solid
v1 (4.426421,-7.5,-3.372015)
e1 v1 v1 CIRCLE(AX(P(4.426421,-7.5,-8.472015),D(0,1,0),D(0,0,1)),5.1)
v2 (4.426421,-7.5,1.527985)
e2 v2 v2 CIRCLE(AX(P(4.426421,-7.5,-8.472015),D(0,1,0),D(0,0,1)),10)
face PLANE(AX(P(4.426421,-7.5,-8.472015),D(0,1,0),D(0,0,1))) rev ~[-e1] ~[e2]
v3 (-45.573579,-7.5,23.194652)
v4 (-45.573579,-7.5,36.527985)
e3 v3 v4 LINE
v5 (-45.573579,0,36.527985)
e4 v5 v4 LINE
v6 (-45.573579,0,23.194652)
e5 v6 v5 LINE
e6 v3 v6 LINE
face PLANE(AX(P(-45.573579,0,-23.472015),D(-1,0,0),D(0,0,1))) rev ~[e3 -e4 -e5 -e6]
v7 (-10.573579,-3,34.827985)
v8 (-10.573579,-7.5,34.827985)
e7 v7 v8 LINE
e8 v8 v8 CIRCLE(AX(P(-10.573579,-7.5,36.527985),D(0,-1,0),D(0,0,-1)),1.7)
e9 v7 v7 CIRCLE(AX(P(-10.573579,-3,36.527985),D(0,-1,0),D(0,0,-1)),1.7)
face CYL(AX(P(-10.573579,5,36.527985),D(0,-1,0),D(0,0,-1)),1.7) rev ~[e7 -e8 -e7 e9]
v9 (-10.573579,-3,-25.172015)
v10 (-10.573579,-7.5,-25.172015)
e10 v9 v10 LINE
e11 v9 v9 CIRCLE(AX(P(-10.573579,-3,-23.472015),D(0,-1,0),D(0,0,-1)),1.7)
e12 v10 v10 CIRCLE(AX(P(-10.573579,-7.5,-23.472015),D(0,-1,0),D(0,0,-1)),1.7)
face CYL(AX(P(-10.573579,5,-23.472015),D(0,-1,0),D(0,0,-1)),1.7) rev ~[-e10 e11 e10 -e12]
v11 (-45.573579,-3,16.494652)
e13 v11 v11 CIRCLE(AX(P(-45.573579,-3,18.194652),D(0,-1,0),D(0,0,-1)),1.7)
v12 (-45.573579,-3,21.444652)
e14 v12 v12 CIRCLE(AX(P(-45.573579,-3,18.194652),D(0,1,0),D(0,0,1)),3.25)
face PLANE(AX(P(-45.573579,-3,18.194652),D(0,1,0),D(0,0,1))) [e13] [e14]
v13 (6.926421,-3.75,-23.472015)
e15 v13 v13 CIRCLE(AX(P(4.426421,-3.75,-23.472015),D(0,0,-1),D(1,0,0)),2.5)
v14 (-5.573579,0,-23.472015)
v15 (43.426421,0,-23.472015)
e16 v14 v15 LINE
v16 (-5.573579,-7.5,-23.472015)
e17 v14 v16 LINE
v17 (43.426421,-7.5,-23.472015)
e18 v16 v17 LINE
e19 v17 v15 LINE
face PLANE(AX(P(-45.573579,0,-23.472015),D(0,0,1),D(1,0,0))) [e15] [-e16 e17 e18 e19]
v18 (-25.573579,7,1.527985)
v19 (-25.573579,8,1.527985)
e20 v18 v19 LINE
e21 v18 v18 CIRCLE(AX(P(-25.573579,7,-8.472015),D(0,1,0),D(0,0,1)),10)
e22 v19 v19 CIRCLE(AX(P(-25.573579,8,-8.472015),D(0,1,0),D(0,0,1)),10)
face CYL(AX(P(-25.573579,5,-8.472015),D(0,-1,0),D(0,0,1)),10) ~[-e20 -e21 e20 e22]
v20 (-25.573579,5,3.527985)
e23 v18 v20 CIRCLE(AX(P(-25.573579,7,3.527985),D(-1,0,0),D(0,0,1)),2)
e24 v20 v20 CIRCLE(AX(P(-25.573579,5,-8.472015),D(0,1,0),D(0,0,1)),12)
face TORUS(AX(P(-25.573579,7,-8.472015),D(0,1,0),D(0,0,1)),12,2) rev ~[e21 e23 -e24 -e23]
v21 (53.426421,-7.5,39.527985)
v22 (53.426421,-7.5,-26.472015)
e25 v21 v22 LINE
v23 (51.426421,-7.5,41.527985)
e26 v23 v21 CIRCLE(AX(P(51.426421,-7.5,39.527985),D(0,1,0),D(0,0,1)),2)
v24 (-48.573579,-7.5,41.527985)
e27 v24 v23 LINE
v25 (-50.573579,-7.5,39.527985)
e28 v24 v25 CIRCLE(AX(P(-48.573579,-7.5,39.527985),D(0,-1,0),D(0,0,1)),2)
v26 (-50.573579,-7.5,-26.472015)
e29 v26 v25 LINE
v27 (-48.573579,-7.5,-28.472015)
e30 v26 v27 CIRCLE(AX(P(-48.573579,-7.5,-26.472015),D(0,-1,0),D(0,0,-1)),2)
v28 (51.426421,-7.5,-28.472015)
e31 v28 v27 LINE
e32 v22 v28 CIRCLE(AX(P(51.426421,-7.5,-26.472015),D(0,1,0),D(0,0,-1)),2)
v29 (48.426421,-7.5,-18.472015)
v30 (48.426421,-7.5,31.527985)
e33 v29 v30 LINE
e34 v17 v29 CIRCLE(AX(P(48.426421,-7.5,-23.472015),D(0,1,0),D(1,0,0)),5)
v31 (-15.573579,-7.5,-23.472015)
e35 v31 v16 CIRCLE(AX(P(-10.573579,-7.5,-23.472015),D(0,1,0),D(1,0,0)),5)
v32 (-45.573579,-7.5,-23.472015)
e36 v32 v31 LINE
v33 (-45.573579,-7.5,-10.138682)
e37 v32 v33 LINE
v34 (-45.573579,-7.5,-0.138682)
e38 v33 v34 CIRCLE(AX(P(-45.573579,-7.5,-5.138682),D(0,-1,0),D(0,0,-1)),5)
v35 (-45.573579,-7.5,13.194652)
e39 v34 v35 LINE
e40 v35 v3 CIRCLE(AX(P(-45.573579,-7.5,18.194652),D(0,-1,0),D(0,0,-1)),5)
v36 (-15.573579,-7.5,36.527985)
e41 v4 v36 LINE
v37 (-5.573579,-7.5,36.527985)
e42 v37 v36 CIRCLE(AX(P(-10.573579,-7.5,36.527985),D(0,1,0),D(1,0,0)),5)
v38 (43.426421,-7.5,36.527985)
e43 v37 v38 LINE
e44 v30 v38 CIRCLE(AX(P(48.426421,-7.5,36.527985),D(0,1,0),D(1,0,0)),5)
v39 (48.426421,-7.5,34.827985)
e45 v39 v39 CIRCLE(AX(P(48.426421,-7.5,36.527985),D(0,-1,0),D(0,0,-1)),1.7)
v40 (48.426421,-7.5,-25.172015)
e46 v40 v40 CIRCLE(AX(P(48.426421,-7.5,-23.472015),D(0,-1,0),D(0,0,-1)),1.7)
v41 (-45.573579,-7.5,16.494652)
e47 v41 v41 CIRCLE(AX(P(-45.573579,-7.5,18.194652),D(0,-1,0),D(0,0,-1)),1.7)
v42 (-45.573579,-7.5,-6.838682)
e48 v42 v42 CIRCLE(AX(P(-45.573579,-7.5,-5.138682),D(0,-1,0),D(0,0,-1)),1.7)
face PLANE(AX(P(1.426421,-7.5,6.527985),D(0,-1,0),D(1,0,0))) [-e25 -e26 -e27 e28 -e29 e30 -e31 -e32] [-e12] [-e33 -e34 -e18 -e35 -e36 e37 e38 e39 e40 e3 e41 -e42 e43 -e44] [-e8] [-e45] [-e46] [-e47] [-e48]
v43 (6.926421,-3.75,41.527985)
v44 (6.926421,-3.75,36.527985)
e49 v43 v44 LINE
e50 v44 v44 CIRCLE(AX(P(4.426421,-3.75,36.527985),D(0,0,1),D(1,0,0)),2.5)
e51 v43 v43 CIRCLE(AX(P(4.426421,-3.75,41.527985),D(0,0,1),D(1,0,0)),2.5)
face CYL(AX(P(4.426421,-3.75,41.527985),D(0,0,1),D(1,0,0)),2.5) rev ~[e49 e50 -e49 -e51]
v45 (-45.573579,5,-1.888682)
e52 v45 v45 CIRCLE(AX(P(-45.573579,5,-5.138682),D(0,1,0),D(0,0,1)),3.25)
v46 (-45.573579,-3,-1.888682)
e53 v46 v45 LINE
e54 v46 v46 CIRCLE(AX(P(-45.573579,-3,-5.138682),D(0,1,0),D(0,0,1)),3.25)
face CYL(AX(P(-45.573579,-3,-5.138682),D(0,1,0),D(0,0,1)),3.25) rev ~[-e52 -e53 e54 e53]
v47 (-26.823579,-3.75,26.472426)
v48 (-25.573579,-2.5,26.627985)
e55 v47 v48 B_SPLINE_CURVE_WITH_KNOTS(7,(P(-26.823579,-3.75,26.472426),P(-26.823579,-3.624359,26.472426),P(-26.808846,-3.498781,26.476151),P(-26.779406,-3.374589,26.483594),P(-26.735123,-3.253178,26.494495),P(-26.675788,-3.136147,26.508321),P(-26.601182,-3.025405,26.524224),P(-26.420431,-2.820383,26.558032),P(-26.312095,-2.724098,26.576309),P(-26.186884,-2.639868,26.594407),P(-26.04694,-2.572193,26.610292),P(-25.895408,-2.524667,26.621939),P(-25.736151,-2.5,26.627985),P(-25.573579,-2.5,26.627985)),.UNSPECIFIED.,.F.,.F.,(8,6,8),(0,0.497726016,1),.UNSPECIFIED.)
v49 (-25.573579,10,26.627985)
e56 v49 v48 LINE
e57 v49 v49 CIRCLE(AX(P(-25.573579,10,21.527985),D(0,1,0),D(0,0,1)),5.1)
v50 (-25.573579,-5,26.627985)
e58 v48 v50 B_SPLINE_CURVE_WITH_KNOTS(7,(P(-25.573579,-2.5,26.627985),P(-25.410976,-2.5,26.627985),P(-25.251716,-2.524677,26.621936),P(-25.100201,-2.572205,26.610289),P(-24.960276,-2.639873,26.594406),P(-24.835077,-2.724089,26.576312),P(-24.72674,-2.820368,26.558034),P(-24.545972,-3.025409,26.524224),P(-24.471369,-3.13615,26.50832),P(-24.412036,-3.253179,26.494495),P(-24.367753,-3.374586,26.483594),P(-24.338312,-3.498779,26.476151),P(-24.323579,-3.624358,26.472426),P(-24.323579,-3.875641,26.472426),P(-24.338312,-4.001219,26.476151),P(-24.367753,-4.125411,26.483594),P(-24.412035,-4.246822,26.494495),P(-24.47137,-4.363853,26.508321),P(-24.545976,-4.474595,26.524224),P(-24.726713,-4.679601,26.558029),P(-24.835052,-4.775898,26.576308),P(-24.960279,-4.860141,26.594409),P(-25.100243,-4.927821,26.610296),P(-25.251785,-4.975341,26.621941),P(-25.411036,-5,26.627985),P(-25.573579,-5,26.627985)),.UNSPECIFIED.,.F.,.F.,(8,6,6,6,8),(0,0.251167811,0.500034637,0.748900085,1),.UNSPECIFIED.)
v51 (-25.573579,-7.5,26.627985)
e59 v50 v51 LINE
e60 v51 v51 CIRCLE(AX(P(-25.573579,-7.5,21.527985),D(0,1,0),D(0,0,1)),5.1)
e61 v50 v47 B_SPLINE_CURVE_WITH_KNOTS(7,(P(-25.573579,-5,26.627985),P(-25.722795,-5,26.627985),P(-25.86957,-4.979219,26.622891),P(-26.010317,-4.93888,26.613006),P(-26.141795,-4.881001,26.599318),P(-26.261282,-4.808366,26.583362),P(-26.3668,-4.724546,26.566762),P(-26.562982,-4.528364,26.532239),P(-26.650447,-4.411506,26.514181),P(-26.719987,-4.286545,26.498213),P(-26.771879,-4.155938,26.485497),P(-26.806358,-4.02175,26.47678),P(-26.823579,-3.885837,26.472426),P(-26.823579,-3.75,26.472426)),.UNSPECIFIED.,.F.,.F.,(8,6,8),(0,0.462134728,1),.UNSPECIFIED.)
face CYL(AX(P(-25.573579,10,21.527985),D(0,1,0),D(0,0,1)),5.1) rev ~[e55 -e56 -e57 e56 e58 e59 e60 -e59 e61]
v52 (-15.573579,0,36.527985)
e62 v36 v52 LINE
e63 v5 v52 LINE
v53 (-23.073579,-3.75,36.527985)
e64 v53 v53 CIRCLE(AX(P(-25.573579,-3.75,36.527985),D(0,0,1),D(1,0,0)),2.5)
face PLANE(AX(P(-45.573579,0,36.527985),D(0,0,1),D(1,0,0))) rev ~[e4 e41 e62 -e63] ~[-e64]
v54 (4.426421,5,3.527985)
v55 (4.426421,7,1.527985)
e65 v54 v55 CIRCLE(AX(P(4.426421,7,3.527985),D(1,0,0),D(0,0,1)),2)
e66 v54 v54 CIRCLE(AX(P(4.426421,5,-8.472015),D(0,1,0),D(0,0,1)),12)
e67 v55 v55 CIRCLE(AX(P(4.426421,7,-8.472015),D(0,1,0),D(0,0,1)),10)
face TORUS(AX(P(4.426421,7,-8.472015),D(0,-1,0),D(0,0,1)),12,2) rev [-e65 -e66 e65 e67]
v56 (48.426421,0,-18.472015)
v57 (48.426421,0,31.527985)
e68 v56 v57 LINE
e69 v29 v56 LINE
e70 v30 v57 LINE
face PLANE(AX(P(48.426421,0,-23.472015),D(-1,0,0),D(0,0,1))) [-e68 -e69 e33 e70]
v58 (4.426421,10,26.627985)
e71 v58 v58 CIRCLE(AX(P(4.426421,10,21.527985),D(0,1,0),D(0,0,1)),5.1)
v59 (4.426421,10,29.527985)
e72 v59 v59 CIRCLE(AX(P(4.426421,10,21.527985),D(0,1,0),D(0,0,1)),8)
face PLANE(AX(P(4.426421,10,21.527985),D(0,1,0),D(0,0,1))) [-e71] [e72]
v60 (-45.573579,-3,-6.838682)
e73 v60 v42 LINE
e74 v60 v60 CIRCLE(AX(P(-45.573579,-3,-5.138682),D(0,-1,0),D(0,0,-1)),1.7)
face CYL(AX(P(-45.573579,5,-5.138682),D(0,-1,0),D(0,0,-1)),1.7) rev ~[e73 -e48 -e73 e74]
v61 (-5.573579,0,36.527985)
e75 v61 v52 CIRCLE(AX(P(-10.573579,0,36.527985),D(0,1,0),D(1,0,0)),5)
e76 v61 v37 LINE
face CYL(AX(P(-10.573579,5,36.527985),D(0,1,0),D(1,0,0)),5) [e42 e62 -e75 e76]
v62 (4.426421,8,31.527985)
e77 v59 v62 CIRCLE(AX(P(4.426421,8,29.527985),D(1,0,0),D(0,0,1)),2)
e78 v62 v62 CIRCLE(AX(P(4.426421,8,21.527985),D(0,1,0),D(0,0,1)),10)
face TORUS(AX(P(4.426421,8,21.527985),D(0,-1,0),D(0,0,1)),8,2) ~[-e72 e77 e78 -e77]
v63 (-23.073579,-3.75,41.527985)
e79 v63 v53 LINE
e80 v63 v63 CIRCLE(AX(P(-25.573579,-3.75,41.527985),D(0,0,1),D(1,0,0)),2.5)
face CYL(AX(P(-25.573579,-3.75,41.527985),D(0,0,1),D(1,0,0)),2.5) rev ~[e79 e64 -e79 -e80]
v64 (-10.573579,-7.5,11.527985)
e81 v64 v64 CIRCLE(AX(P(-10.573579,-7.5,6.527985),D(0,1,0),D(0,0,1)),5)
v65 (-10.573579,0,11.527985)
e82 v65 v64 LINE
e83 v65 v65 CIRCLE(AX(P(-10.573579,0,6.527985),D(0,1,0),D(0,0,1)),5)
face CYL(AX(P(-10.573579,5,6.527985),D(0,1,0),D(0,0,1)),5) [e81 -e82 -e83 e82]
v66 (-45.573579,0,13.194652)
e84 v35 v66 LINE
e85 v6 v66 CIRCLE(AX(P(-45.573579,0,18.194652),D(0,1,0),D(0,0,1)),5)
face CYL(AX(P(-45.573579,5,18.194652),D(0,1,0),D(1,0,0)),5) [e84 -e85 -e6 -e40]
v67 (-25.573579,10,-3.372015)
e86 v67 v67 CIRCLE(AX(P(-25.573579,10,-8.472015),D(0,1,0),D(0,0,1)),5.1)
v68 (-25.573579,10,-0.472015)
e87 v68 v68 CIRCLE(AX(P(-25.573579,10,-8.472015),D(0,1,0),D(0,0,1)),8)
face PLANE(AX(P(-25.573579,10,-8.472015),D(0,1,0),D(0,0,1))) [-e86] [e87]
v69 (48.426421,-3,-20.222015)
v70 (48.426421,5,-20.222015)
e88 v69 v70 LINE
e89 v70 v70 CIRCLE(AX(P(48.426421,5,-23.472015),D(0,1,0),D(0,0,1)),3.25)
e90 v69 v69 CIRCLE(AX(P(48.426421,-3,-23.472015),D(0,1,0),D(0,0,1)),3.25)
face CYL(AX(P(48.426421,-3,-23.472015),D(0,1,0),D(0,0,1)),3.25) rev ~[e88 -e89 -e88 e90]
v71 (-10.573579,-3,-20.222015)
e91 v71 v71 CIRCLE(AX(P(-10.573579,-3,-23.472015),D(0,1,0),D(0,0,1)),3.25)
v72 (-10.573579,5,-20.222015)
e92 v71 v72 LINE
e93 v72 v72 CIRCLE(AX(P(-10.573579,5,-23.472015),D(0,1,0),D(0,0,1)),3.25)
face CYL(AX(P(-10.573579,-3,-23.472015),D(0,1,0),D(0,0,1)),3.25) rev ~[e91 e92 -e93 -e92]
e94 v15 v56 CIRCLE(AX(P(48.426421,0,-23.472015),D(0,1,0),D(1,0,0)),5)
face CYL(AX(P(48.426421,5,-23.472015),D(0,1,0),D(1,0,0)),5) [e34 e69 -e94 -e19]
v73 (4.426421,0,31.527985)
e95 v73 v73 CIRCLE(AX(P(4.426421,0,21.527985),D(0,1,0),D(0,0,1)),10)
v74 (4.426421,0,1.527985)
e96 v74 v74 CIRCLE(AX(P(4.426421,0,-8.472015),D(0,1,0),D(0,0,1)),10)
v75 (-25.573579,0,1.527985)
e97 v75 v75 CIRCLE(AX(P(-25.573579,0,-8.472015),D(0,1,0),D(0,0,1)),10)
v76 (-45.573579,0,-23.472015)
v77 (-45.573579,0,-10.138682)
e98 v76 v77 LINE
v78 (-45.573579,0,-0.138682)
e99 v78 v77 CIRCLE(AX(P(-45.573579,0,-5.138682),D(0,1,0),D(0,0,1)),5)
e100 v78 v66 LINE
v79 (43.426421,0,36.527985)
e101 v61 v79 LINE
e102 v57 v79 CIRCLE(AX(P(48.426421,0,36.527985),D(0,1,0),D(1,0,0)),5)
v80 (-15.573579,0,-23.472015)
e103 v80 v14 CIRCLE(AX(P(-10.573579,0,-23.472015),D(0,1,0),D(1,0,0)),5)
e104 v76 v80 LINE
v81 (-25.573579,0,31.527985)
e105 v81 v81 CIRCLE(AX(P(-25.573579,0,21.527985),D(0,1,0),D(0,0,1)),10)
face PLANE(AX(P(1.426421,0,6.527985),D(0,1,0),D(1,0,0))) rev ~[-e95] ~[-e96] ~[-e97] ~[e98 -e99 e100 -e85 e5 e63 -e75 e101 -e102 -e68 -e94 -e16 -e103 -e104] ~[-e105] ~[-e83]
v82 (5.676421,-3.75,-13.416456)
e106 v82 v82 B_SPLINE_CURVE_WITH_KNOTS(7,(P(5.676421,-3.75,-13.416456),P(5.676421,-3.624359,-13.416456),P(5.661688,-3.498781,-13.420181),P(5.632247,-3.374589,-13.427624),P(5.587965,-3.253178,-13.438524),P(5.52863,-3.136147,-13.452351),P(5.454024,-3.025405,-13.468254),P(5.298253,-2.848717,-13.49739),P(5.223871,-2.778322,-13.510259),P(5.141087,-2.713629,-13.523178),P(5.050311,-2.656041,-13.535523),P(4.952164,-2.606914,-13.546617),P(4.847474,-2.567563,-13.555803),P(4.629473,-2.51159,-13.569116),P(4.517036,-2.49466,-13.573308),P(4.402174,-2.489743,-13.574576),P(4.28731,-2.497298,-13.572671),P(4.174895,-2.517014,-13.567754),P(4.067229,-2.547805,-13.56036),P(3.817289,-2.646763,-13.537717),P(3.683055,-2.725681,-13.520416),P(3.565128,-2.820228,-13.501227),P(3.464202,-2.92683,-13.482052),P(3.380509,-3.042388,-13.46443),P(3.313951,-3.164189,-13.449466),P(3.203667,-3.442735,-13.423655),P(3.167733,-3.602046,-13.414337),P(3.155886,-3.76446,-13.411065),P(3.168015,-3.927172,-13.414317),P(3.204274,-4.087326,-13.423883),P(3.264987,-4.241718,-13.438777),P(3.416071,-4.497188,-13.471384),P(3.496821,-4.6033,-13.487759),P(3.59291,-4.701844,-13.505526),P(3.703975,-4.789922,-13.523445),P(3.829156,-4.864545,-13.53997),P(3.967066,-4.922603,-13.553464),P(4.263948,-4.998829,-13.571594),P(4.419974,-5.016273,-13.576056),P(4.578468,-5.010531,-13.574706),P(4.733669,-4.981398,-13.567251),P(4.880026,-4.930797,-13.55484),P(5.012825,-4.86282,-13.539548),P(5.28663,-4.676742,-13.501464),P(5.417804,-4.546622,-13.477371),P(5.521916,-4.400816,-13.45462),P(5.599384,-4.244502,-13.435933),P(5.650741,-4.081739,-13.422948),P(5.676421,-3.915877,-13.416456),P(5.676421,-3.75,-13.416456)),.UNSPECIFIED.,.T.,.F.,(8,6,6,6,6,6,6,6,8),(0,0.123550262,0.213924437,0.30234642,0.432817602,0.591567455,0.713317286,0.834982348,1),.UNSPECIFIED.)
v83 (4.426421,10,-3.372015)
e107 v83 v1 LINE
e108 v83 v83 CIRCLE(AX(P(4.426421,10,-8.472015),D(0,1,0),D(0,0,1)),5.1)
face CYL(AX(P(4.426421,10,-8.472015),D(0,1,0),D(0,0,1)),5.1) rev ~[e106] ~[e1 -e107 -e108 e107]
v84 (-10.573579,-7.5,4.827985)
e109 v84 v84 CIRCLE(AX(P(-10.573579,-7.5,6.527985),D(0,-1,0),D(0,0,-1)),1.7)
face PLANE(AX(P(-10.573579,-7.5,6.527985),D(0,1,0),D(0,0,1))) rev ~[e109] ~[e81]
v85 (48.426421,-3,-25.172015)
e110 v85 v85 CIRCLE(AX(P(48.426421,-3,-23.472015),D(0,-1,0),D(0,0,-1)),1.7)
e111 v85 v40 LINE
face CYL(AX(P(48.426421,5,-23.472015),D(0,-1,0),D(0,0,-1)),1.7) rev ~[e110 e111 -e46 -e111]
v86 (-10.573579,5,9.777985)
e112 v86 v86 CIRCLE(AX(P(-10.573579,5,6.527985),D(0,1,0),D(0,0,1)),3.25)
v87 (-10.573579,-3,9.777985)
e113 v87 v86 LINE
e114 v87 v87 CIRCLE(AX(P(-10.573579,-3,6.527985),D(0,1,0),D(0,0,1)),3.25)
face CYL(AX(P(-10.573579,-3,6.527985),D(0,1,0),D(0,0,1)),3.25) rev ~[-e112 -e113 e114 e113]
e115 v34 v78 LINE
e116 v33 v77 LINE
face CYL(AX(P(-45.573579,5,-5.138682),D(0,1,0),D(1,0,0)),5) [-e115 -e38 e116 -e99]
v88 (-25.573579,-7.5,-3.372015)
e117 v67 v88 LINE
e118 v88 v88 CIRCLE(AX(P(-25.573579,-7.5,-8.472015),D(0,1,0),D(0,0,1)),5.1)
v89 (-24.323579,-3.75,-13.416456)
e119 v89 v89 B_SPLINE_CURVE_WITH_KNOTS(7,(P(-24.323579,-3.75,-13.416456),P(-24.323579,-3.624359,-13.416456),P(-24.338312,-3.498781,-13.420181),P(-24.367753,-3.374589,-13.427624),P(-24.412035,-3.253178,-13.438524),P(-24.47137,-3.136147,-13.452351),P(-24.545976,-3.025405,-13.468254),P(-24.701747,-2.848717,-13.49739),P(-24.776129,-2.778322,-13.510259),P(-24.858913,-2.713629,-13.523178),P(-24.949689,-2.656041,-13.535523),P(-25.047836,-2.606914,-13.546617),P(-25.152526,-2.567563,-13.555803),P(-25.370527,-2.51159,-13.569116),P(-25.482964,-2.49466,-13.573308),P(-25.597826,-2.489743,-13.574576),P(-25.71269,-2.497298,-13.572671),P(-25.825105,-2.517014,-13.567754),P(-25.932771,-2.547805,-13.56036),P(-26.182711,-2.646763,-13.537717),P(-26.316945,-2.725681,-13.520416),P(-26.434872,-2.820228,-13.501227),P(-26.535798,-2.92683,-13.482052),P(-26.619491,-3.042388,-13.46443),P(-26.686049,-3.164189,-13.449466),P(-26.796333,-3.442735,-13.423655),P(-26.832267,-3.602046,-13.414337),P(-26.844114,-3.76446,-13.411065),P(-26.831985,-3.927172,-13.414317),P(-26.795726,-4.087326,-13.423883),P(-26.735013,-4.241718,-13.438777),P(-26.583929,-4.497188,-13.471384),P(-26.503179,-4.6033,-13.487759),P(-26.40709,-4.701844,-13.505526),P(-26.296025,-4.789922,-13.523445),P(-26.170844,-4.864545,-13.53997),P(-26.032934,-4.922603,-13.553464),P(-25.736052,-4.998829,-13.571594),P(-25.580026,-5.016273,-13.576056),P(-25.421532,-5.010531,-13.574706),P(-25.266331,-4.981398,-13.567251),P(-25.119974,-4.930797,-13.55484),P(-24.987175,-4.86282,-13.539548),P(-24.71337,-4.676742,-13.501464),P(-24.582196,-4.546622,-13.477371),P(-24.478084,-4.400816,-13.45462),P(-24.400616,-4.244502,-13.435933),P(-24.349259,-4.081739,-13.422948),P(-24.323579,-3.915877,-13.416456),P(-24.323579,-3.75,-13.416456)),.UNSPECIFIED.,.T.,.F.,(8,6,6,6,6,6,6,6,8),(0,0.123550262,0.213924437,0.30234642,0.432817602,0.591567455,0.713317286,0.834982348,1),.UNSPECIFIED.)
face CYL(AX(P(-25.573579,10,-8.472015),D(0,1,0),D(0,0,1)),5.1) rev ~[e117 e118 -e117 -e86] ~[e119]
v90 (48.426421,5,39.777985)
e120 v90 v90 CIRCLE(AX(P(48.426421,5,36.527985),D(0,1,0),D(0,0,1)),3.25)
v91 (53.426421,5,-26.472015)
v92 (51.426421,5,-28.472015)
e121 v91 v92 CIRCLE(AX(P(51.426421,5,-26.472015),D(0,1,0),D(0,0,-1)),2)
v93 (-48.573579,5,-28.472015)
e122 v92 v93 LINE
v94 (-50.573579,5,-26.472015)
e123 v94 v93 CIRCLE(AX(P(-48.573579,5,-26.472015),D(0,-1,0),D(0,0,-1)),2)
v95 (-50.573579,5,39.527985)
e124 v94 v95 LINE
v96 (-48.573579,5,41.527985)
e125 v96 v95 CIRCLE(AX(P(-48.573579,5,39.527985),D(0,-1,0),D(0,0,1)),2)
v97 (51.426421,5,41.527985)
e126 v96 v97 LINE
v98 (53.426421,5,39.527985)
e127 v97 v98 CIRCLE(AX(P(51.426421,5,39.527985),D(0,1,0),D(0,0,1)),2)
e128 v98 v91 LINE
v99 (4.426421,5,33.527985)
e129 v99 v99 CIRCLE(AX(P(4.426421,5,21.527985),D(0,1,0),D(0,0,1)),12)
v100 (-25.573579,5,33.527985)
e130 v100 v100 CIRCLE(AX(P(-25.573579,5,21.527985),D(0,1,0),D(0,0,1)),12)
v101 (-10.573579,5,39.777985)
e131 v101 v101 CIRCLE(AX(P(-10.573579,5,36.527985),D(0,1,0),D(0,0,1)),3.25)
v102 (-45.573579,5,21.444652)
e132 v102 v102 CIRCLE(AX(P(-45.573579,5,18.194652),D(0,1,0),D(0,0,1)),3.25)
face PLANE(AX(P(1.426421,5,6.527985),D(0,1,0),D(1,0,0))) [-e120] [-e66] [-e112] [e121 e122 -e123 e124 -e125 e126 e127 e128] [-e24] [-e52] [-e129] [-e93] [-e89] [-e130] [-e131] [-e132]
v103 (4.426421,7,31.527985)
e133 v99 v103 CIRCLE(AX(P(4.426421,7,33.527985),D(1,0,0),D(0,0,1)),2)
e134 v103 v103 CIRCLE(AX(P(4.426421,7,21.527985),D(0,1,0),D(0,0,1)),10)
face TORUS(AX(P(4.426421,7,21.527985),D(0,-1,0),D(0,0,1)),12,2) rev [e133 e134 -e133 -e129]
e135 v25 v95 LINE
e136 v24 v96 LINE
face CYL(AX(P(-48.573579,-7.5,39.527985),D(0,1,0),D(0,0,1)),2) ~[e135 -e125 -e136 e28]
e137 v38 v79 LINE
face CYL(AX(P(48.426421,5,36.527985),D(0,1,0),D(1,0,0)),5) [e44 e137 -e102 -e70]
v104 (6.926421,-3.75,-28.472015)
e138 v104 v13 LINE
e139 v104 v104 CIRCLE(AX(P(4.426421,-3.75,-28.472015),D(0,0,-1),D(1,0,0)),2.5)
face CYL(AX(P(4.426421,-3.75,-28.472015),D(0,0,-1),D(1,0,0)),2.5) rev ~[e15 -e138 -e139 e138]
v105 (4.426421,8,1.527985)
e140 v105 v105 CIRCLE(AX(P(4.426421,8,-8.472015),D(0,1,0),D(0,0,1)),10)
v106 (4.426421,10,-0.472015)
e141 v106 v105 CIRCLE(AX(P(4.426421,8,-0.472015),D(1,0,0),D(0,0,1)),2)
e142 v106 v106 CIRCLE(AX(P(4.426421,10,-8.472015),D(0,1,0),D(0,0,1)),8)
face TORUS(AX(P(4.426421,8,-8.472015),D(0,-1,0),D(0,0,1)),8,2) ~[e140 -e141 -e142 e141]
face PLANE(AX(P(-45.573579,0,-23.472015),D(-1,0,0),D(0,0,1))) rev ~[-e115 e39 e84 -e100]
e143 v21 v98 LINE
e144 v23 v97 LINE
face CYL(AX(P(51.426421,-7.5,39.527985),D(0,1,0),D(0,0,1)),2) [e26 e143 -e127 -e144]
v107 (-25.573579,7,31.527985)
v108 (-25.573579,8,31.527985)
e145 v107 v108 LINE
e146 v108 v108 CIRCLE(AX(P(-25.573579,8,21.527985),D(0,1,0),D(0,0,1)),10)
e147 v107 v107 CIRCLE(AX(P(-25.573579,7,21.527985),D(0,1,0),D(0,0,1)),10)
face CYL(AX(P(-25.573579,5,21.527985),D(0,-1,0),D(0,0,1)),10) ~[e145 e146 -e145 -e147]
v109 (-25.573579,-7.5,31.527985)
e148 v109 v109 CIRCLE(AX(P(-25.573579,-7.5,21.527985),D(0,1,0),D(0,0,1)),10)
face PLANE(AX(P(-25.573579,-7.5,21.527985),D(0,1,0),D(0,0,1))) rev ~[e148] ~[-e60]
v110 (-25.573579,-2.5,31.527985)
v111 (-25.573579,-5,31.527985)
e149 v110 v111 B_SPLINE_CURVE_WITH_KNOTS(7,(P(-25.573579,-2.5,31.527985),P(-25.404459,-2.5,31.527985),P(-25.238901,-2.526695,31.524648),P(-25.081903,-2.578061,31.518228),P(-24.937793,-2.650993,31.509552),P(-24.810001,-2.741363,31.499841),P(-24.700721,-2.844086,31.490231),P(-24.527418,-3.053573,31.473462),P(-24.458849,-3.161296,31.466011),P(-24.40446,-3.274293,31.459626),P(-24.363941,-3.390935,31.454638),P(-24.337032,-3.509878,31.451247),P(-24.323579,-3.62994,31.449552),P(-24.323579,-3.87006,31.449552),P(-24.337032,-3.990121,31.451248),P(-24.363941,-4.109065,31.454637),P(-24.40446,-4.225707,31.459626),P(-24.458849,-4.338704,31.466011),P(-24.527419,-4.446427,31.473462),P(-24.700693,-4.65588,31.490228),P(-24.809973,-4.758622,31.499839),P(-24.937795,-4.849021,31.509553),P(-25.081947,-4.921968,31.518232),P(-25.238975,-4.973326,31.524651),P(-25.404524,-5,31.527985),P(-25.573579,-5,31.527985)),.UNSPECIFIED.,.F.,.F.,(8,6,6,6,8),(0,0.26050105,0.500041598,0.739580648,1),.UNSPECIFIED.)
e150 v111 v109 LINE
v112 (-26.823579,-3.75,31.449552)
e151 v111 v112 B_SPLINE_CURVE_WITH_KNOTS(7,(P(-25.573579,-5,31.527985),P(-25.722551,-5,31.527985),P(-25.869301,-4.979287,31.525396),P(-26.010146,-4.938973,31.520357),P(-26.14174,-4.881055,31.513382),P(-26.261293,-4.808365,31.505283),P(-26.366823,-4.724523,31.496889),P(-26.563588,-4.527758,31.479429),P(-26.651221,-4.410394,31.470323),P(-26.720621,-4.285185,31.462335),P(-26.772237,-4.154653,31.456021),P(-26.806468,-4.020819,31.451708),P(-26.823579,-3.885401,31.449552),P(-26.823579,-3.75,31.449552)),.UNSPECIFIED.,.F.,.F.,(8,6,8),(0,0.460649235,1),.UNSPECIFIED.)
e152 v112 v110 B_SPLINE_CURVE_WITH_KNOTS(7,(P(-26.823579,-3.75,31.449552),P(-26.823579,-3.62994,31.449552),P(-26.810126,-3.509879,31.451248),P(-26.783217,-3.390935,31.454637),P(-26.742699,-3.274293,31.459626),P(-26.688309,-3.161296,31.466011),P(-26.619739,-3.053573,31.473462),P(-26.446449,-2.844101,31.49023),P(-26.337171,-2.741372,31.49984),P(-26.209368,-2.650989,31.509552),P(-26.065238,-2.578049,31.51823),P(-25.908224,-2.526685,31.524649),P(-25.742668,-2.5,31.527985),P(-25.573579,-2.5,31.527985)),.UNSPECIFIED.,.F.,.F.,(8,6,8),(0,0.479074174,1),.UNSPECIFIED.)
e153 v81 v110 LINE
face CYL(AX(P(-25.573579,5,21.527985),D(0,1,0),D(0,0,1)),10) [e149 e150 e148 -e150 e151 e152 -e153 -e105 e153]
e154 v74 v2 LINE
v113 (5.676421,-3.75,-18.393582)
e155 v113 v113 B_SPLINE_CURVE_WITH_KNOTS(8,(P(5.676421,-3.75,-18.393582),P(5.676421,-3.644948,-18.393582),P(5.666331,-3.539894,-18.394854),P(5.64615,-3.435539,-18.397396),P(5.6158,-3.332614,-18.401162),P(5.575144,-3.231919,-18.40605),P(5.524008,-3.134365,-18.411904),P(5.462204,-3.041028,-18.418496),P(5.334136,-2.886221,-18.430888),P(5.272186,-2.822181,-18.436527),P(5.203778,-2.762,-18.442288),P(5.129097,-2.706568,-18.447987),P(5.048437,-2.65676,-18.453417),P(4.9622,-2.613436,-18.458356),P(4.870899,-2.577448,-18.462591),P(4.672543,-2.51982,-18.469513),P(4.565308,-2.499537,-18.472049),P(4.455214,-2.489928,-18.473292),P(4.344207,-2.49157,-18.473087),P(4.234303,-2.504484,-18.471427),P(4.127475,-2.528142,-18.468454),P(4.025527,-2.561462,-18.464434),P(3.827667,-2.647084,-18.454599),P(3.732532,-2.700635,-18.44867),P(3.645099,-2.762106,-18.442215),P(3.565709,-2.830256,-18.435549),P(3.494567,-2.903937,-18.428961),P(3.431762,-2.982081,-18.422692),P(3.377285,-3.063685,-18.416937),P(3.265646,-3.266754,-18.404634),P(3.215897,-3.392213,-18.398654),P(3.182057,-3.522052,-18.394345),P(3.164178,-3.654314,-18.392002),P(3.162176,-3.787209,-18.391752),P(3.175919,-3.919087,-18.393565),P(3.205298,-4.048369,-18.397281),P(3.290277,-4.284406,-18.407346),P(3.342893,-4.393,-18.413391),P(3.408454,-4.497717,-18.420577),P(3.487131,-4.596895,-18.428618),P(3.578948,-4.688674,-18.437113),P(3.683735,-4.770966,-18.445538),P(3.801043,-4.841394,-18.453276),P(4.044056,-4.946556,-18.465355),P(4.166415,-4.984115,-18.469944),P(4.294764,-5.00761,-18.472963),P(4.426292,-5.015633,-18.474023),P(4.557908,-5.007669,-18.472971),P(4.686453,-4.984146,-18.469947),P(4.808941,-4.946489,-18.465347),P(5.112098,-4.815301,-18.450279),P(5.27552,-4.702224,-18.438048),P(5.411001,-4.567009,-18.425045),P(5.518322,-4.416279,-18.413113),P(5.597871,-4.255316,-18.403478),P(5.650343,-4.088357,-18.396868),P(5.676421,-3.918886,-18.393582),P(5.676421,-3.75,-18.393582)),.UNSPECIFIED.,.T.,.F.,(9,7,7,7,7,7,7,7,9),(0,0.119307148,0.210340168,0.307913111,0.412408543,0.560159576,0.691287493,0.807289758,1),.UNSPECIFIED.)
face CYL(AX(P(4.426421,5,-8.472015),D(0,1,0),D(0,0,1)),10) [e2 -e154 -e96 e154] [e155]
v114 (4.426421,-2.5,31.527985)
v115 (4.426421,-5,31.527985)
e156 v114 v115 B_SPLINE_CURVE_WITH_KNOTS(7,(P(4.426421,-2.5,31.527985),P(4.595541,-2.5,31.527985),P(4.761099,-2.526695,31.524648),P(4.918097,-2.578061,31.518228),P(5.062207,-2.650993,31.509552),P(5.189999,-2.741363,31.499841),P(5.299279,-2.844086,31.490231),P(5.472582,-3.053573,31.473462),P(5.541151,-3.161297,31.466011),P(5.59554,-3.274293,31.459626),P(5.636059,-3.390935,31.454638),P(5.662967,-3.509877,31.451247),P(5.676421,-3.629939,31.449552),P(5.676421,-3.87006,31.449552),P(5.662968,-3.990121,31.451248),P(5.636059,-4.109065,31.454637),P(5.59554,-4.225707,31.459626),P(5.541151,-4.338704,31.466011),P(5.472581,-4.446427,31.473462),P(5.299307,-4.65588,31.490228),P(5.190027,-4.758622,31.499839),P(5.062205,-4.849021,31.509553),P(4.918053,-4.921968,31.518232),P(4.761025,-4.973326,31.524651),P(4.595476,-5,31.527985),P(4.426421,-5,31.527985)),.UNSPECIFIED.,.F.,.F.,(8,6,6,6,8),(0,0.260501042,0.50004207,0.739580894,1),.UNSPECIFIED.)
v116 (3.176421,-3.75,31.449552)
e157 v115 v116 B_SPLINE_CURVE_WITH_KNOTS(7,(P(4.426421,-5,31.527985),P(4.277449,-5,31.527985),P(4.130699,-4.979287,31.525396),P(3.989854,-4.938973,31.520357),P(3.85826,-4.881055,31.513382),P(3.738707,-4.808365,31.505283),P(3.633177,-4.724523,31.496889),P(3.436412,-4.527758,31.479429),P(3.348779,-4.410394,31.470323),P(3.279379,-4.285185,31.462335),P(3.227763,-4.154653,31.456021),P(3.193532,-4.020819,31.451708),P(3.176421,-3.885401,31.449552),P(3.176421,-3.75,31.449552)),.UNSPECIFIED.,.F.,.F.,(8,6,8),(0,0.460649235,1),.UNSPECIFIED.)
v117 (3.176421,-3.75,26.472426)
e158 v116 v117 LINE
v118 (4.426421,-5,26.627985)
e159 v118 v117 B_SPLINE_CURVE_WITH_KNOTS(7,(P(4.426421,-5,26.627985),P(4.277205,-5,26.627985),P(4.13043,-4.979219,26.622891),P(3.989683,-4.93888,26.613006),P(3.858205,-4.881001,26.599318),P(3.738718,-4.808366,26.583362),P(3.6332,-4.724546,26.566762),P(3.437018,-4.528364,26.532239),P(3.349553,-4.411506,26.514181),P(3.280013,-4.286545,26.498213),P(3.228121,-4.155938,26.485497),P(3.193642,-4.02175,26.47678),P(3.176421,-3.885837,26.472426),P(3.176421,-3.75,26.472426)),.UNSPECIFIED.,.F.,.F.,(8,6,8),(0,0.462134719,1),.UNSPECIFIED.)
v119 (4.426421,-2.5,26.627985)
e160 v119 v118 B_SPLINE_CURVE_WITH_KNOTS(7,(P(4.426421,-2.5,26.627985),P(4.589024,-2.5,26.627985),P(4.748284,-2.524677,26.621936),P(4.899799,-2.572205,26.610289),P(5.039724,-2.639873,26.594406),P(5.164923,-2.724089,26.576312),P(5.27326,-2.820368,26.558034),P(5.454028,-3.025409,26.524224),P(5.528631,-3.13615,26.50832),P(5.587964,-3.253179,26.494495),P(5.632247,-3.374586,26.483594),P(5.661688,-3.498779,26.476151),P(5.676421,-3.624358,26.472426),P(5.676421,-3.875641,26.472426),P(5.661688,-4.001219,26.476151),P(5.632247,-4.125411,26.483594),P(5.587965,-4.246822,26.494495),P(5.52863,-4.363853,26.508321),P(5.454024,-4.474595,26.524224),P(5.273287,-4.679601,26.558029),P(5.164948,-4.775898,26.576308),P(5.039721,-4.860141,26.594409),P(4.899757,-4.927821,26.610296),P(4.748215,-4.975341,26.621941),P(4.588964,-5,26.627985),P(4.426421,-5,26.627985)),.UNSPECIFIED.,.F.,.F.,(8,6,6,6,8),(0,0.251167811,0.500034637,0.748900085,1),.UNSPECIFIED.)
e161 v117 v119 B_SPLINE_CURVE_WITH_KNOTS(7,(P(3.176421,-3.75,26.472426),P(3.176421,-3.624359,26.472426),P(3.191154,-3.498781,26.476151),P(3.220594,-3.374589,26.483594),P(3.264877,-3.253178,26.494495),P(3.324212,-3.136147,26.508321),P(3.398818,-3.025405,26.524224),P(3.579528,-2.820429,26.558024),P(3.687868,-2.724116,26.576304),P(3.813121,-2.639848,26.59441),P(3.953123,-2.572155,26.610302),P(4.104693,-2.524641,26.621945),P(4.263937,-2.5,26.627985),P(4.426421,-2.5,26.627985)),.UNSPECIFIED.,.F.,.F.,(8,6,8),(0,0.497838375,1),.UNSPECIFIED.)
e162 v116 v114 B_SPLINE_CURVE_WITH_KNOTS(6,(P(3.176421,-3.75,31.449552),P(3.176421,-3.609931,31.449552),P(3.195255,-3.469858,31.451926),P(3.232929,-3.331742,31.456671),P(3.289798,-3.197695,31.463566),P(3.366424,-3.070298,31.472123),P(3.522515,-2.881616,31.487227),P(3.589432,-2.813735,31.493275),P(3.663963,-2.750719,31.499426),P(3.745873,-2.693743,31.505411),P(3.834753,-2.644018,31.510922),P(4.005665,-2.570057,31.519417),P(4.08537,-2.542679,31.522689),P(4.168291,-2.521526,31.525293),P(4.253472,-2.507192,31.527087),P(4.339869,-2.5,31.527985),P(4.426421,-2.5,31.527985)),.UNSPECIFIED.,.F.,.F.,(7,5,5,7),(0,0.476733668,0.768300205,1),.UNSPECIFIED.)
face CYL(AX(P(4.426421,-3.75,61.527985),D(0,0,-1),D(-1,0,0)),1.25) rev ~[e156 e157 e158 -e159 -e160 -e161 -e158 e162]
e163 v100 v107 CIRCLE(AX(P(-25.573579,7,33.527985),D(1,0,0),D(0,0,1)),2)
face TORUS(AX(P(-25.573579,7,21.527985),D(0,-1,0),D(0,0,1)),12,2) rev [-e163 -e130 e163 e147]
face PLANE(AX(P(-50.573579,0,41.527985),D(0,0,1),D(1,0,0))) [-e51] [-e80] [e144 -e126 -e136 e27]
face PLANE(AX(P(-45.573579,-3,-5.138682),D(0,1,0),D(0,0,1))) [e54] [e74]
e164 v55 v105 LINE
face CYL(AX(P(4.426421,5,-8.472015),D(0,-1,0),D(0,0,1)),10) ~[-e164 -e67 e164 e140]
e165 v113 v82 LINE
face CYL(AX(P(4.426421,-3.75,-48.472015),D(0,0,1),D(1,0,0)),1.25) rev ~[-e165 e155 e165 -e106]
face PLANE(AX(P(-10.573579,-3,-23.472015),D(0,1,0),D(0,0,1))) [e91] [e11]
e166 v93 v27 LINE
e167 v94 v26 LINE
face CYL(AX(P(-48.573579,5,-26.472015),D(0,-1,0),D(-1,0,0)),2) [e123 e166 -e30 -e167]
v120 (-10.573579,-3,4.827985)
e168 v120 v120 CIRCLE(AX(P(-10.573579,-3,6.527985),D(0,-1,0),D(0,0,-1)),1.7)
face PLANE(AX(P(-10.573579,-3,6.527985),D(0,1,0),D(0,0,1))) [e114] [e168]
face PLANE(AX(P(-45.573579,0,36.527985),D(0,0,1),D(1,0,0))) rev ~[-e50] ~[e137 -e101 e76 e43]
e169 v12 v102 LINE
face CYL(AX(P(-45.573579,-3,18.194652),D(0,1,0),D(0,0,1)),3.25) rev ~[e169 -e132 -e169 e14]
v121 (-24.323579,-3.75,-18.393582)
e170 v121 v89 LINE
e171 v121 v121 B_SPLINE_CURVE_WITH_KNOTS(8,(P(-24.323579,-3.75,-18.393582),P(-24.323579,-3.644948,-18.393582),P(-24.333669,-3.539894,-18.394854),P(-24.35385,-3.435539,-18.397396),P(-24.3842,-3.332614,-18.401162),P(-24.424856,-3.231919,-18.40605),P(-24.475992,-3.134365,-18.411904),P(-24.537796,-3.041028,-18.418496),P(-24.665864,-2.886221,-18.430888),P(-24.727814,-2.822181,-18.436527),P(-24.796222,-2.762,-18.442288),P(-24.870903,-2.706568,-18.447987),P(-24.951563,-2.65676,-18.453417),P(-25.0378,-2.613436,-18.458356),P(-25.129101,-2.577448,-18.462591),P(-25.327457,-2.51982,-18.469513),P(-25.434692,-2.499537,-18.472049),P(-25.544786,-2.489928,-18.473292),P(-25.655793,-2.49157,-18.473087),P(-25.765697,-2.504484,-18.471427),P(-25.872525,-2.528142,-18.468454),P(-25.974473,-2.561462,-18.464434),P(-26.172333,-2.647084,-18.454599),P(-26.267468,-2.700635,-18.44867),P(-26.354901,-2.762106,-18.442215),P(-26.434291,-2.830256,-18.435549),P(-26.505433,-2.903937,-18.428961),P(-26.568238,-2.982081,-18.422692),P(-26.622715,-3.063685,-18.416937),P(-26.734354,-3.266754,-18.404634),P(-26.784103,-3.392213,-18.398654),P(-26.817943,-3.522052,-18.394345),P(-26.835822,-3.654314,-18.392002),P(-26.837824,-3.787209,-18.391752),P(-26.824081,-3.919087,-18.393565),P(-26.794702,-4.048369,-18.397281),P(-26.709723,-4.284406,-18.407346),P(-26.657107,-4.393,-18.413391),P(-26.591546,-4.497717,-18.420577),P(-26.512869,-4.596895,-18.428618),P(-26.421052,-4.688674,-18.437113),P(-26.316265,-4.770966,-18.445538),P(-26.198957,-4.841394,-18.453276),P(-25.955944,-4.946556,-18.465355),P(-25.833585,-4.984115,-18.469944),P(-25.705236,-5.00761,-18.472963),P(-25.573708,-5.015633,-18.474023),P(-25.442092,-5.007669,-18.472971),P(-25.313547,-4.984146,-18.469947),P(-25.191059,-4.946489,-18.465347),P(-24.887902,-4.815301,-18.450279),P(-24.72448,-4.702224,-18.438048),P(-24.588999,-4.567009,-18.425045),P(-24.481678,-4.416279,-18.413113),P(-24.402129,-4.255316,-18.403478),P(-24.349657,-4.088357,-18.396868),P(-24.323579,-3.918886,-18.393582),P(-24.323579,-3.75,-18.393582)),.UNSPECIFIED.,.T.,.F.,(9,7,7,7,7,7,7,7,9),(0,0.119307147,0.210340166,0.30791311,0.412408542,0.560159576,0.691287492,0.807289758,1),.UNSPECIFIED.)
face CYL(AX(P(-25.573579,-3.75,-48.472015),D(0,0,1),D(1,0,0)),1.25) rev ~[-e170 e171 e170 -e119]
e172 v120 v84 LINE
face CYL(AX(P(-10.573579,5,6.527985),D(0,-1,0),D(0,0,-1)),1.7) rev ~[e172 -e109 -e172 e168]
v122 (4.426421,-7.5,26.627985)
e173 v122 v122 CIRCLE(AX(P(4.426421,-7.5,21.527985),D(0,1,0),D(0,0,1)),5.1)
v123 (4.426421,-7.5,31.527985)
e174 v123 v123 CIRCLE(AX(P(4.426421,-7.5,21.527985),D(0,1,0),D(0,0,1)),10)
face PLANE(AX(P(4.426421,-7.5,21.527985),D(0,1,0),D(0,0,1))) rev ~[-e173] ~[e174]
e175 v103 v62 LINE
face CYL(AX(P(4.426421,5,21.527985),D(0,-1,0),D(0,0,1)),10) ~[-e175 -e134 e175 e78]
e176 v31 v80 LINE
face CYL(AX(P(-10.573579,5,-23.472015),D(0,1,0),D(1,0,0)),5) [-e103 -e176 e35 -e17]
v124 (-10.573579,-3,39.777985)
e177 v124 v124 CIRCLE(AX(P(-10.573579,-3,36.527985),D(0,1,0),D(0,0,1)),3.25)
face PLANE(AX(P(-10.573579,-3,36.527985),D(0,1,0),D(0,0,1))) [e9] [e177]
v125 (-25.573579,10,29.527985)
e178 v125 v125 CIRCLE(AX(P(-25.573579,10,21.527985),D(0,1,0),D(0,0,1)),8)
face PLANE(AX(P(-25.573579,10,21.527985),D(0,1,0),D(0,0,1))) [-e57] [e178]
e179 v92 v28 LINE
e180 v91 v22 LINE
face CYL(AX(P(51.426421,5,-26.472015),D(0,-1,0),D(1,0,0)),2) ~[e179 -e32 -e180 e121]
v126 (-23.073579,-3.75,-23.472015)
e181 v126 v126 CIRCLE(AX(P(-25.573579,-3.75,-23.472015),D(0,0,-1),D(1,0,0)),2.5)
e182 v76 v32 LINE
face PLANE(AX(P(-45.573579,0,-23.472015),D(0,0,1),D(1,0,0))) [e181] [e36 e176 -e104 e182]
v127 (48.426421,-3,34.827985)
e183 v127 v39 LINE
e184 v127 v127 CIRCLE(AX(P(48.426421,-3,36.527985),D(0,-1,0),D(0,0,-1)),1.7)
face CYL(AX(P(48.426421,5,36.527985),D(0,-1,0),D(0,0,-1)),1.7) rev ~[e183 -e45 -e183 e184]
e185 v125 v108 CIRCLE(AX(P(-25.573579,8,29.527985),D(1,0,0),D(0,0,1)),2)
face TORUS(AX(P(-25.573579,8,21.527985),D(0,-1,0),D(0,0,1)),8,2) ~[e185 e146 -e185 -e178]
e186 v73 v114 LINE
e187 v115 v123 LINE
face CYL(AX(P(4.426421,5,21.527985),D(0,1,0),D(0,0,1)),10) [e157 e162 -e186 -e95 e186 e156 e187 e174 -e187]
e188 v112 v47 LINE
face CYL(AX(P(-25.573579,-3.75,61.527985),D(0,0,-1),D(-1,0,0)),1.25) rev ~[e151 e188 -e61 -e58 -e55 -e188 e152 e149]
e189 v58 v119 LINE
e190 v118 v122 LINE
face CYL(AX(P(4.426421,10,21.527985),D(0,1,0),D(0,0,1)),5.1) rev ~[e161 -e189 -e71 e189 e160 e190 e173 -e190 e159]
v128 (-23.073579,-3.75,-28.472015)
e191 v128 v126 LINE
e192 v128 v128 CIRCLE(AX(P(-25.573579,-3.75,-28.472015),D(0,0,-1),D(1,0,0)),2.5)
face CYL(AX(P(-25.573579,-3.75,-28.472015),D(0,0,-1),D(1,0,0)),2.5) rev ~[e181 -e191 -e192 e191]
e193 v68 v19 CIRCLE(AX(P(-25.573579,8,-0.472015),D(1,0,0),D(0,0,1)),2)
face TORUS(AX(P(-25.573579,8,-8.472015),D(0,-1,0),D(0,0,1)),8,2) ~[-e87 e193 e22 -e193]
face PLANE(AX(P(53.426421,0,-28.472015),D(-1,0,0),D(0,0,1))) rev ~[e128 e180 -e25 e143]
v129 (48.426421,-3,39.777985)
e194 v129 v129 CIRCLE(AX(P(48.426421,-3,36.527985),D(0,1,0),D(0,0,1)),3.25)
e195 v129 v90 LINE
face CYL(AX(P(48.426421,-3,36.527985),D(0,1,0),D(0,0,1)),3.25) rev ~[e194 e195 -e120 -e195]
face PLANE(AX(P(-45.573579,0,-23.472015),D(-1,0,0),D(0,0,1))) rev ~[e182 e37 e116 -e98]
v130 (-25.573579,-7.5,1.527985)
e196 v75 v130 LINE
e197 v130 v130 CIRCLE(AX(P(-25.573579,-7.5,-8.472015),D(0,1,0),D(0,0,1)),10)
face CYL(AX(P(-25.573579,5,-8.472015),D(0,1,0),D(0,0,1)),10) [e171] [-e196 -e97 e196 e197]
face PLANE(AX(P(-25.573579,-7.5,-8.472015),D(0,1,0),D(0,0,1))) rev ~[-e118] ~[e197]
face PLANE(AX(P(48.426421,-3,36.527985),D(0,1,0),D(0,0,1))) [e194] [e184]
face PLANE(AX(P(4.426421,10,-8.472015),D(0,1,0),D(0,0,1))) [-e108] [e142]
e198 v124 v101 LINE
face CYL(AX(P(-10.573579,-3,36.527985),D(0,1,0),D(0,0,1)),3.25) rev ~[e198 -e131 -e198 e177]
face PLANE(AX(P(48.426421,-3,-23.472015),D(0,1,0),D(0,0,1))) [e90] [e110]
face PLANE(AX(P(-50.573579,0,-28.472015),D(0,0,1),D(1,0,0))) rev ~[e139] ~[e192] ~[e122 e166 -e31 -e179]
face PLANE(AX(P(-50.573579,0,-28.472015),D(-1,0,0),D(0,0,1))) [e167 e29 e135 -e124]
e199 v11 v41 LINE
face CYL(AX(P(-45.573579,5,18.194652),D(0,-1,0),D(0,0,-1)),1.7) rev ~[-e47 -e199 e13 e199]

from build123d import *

# Parameters (mm, degrees)
SKETCH1_W                       = 104
SKETCH1_H                       = 70
BOSS_EXTRUDE1_DEPTH             = 5
SKETCH4_W                       = 104
SKETCH4_H                       = 70
SKETCH4_W_2                     = 94
SKETCH4_H_2                     = 60
BOSS_EXTRUDE3_DEPTH             = 7.5
SKETCH2_R                       = 10
BOSS_EXTRUDE2_DEPTH             = 5
BOSS_EXTRUDE2_DEPTH_BACK        = 12.5
SKETCH3_R                       = 5.1
CUT_EXTRUDE1_DEPTH              = 18.5
FILLET3_R                       = 2
SKETCH8_R                       = 5
BOSS_EXTRUDE5_DEPTH             = 12.5
CBORE_FOR_M3_SHCS2_D            = 3.4
CBORE_FOR_M3_SHCS2_CBORE_D      = 6.5
CBORE_FOR_M3_SHCS2_CBORE_DEPTH  = 8
FILLET4_R                       = 2
TAP_DRILL_FOR_M3X0_5_TAP3_D     = 2.5
TAP_DRILL_FOR_M3X0_5_TAP3_DEPTH = 20
TAP_DRILL_FOR_M3X0_5_TAP3_TIP   = 0.751075774
CUT_EXTRUDE2_REACH              = 72
SKETCH13_R                      = 2.5
TAP_DRILL_FOR_M3X0_5_TAP4_D     = 2.5
TAP_DRILL_FOR_M3X0_5_TAP4_DEPTH = 20
TAP_DRILL_FOR_M3X0_5_TAP4_TIP   = 0.751075774
CUT_EXTRUDE3_REACH              = 72
SKETCH18_R                      = 2.5


with BuildPart() as part:
    # Sketch1 → Boss-Extrude1 (new body)
    with BuildSketch(Plane(origin=(0, 0, 0), x_dir=(1, 0, 0), z_dir=(0, 1, 0))):
        with Locations((1.426420959, -6.527985064)):
            Rectangle(SKETCH1_W, SKETCH1_H)
    extrude(amount=BOSS_EXTRUDE1_DEPTH)

    # Sketch4 → Boss-Extrude3 (add)
    with BuildSketch(Plane.XZ):
        with Locations((1.426420959, 6.527985064)):
            Rectangle(SKETCH4_W, SKETCH4_H)
        with Locations((1.426420959, 6.527985064)):
            Rectangle(SKETCH4_W_2, SKETCH4_H_2, mode=Mode.SUBTRACT)
    extrude(amount=BOSS_EXTRUDE3_DEPTH)

    # Sketch2 → Boss-Extrude2 (add, two sides)
    with BuildSketch(Plane(origin=(0, 5, 0), x_dir=(-1, 0, 0), z_dir=(0, 1, 0))) as boss_extrude2_sk:
        with Locations(Location((25.573579041, -8.472014936, 0), (0, 0, 90))):  # turned: the seam where the file's is
            Circle(SKETCH2_R)
        with Locations(Location((25.573579041, 21.527985064, 0), (0, 0, 90))):  # turned: the seam where the file's is
            Circle(SKETCH2_R)
        with Locations(Location((-4.426420959, -8.472014936, 0), (0, 0, 90))):  # turned: the seam where the file's is
            Circle(SKETCH2_R)
        with Locations(Location((-4.426420959, 21.527985064, 0), (0, 0, 90))):  # turned: the seam where the file's is
            Circle(SKETCH2_R)
    extrude(amount=BOSS_EXTRUDE2_DEPTH)
    extrude(boss_extrude2_sk.sketch, amount=-BOSS_EXTRUDE2_DEPTH_BACK)

    # Sketch3 → Cut-Extrude1 (cut, through all)
    with BuildSketch(Plane(origin=(0, 10, 0), x_dir=(1, 0, 0), z_dir=(0, 1, 0))):
        with Locations(Location((-25.573579041, 8.472014936, 0), (0, 0, 270))):  # turned: the seam where the file's is
            Circle(SKETCH3_R)
        with Locations(Location((-25.573579041, -21.527985064, 0), (0, 0, 270))):  # turned: the seam where the file's is
            Circle(SKETCH3_R)
        with Locations(Location((4.426420959, -21.527985064, 0), (0, 0, 270))):  # turned: the seam where the file's is
            Circle(SKETCH3_R)
        with Locations(Location((4.426420959, 8.472014936, 0), (0, 0, 270))):  # turned: the seam where the file's is
            Circle(SKETCH3_R)
    extrude(amount=-CUT_EXTRUDE1_DEPTH, mode=Mode.SUBTRACT)

    # Fillet3
    fillet3_edges = [part.edges().sort_by_distance(p)[0] for p in [
        (-25.573579041, 5, -18.472014936),
        (-25.573579041, 10, -18.472014936),
        (-25.573579041, 5, 11.527985064),
        (-25.573579041, 10, 11.527985064),
        (4.426420959, 5, -18.472014936),
        (4.426420959, 10, -18.472014936),
        (4.426420959, 5, 11.527985064),
        (4.426420959, 10, 11.527985064),
    ]]
    fillet(fillet3_edges, radius=FILLET3_R)

    # Sketch8 → Boss-Extrude5 (add)
    with BuildSketch(Plane(origin=(0, 5, 0), x_dir=(1, 0, 0), z_dir=(0, 1, 0))):
        with Locations((-10.573579041, -36.527985064)):
            Circle(SKETCH8_R)
        with Locations((-45.573579041, -18.194651731)):
            Circle(SKETCH8_R)
        with Locations((-45.573579041, 5.138681602)):
            Circle(SKETCH8_R)
        with Locations(Location((-10.573579041, -6.527985064, 0), (0, 0, 270))):  # turned: the seam where the file's is
            Circle(SKETCH8_R)
        with Locations((-10.573579041, 23.472014936)):
            Circle(SKETCH8_R)
        with Locations((48.426420959, -36.527985064)):
            Circle(SKETCH8_R)
        with Locations((48.426420959, 23.472014936)):
            Circle(SKETCH8_R)
    extrude(amount=-BOSS_EXTRUDE5_DEPTH)

    # CBORE for M3 SHCS2 (through all)
    with Locations(Plane(origin=(-45.573579041, 5, -5.138681602), x_dir=(0, 0, 1), z_dir=(0, 1, 0))):
        with Locations((0, 0), (-18.333333334, 35), (11.666666666, 35), (23.333333333, 0), (41.666666666, 35), (41.666666666, 94), (-18.333333334, 94)):
            CounterBoreHole(CBORE_FOR_M3_SHCS2_D / 2, CBORE_FOR_M3_SHCS2_CBORE_D / 2, CBORE_FOR_M3_SHCS2_CBORE_DEPTH)

    # Fillet4
    fillet4_edges = [part.edges().sort_by_distance(p)[0] for p in [
        (-50.573579041, -1.25, -28.472014936),
        (53.426420959, -1.25, -28.472014936),
        (53.426420959, -1.25, 41.527985064),
        (-50.573579041, -1.25, 41.527985064),
    ]]
    fillet(fillet4_edges, radius=FILLET4_R)

    # Tap Drill for M3x0.5 Tap3
    with Locations(Plane(origin=(-25.573579041, -3.75, 41.527985064), x_dir=(1, 0, 0), z_dir=(0, 0, 1))):
        with Locations((0, 0), (30, 0)):
            Hole(TAP_DRILL_FOR_M3X0_5_TAP3_D / 2, depth=TAP_DRILL_FOR_M3X0_5_TAP3_DEPTH)
            with Locations((0, 0, -(TAP_DRILL_FOR_M3X0_5_TAP3_DEPTH + TAP_DRILL_FOR_M3X0_5_TAP3_TIP / 2))):  # 118° drill point
                Cone(0, TAP_DRILL_FOR_M3X0_5_TAP3_D / 2, TAP_DRILL_FOR_M3X0_5_TAP3_TIP, mode=Mode.SUBTRACT)

    # Sketch13 → Cut-Extrude2 (cut, up to next)
    with BuildSketch(Plane.XY.offset(41.527985064), mode=Mode.PRIVATE) as cut_extrude2_sk1:
        with Locations((-25.573579041, -3.75)):
            Circle(SKETCH13_R)
    cut_extrude2_tool1 = extrude(cut_extrude2_sk1.sketch, amount=-CUT_EXTRUDE2_REACH, mode=Mode.PRIVATE) & part.part
    add(cut_extrude2_tool1.solids().sort_by_distance((-25.573579, -3.75, 41.527985))[0], mode=Mode.SUBTRACT)
    # Sketch13 → Cut-Extrude2 (cut, up to next)
    with BuildSketch(Plane.XY.offset(41.527985064), mode=Mode.PRIVATE) as cut_extrude2_sk2:
        with Locations((4.426420959, -3.75)):
            Circle(SKETCH13_R)
    cut_extrude2_tool2 = extrude(cut_extrude2_sk2.sketch, amount=-CUT_EXTRUDE2_REACH, mode=Mode.PRIVATE) & part.part
    add(cut_extrude2_tool2.solids().sort_by_distance((4.426421, -3.75, 41.527985))[0], mode=Mode.SUBTRACT)

    # Tap Drill for M3x0.5 Tap4
    with Locations(Plane(origin=(0, 0, -28.472014936), x_dir=(-1, 0, 0), z_dir=(0, 0, -1))):
        with Locations((25.573579041, -3.75), (-4.426420959, -3.75)):
            Hole(TAP_DRILL_FOR_M3X0_5_TAP4_D / 2, depth=TAP_DRILL_FOR_M3X0_5_TAP4_DEPTH)
            with Locations((0, 0, -(TAP_DRILL_FOR_M3X0_5_TAP4_DEPTH + TAP_DRILL_FOR_M3X0_5_TAP4_TIP / 2))):  # 118° drill point
                Cone(0, TAP_DRILL_FOR_M3X0_5_TAP4_D / 2, TAP_DRILL_FOR_M3X0_5_TAP4_TIP, mode=Mode.SUBTRACT)

    # Sketch18 → Cut-Extrude3 (cut, up to next)
    with BuildSketch(Plane(origin=(0, 0, -28.472014936), x_dir=(-1, 0, 0), z_dir=(0, 0, -1)), mode=Mode.PRIVATE) as cut_extrude3_sk1:
        with Locations(Location((-4.426420959, -3.75, 0), (0, 0, 180))):  # turned: the seam where the file's is
            Circle(SKETCH18_R)
    cut_extrude3_tool1 = extrude(cut_extrude3_sk1.sketch, amount=-CUT_EXTRUDE3_REACH, mode=Mode.PRIVATE) & part.part
    add(cut_extrude3_tool1.solids().sort_by_distance((4.426421, -3.75, -28.472015))[0], mode=Mode.SUBTRACT)
    # Sketch18 → Cut-Extrude3 (cut, up to next)
    with BuildSketch(Plane(origin=(0, 0, -28.472014936), x_dir=(-1, 0, 0), z_dir=(0, 0, -1)), mode=Mode.PRIVATE) as cut_extrude3_sk2:
        with Locations(Location((25.573579041, -3.75, 0), (0, 0, 180))):  # turned: the seam where the file's is
            Circle(SKETCH18_R)
    cut_extrude3_tool2 = extrude(cut_extrude3_sk2.sketch, amount=-CUT_EXTRUDE3_REACH, mode=Mode.PRIVATE) & part.part
    add(cut_extrude3_tool2.solids().sort_by_distance((-25.573579, -3.75, -28.472015))[0], mode=Mode.SUBTRACT)


solid = part.part
